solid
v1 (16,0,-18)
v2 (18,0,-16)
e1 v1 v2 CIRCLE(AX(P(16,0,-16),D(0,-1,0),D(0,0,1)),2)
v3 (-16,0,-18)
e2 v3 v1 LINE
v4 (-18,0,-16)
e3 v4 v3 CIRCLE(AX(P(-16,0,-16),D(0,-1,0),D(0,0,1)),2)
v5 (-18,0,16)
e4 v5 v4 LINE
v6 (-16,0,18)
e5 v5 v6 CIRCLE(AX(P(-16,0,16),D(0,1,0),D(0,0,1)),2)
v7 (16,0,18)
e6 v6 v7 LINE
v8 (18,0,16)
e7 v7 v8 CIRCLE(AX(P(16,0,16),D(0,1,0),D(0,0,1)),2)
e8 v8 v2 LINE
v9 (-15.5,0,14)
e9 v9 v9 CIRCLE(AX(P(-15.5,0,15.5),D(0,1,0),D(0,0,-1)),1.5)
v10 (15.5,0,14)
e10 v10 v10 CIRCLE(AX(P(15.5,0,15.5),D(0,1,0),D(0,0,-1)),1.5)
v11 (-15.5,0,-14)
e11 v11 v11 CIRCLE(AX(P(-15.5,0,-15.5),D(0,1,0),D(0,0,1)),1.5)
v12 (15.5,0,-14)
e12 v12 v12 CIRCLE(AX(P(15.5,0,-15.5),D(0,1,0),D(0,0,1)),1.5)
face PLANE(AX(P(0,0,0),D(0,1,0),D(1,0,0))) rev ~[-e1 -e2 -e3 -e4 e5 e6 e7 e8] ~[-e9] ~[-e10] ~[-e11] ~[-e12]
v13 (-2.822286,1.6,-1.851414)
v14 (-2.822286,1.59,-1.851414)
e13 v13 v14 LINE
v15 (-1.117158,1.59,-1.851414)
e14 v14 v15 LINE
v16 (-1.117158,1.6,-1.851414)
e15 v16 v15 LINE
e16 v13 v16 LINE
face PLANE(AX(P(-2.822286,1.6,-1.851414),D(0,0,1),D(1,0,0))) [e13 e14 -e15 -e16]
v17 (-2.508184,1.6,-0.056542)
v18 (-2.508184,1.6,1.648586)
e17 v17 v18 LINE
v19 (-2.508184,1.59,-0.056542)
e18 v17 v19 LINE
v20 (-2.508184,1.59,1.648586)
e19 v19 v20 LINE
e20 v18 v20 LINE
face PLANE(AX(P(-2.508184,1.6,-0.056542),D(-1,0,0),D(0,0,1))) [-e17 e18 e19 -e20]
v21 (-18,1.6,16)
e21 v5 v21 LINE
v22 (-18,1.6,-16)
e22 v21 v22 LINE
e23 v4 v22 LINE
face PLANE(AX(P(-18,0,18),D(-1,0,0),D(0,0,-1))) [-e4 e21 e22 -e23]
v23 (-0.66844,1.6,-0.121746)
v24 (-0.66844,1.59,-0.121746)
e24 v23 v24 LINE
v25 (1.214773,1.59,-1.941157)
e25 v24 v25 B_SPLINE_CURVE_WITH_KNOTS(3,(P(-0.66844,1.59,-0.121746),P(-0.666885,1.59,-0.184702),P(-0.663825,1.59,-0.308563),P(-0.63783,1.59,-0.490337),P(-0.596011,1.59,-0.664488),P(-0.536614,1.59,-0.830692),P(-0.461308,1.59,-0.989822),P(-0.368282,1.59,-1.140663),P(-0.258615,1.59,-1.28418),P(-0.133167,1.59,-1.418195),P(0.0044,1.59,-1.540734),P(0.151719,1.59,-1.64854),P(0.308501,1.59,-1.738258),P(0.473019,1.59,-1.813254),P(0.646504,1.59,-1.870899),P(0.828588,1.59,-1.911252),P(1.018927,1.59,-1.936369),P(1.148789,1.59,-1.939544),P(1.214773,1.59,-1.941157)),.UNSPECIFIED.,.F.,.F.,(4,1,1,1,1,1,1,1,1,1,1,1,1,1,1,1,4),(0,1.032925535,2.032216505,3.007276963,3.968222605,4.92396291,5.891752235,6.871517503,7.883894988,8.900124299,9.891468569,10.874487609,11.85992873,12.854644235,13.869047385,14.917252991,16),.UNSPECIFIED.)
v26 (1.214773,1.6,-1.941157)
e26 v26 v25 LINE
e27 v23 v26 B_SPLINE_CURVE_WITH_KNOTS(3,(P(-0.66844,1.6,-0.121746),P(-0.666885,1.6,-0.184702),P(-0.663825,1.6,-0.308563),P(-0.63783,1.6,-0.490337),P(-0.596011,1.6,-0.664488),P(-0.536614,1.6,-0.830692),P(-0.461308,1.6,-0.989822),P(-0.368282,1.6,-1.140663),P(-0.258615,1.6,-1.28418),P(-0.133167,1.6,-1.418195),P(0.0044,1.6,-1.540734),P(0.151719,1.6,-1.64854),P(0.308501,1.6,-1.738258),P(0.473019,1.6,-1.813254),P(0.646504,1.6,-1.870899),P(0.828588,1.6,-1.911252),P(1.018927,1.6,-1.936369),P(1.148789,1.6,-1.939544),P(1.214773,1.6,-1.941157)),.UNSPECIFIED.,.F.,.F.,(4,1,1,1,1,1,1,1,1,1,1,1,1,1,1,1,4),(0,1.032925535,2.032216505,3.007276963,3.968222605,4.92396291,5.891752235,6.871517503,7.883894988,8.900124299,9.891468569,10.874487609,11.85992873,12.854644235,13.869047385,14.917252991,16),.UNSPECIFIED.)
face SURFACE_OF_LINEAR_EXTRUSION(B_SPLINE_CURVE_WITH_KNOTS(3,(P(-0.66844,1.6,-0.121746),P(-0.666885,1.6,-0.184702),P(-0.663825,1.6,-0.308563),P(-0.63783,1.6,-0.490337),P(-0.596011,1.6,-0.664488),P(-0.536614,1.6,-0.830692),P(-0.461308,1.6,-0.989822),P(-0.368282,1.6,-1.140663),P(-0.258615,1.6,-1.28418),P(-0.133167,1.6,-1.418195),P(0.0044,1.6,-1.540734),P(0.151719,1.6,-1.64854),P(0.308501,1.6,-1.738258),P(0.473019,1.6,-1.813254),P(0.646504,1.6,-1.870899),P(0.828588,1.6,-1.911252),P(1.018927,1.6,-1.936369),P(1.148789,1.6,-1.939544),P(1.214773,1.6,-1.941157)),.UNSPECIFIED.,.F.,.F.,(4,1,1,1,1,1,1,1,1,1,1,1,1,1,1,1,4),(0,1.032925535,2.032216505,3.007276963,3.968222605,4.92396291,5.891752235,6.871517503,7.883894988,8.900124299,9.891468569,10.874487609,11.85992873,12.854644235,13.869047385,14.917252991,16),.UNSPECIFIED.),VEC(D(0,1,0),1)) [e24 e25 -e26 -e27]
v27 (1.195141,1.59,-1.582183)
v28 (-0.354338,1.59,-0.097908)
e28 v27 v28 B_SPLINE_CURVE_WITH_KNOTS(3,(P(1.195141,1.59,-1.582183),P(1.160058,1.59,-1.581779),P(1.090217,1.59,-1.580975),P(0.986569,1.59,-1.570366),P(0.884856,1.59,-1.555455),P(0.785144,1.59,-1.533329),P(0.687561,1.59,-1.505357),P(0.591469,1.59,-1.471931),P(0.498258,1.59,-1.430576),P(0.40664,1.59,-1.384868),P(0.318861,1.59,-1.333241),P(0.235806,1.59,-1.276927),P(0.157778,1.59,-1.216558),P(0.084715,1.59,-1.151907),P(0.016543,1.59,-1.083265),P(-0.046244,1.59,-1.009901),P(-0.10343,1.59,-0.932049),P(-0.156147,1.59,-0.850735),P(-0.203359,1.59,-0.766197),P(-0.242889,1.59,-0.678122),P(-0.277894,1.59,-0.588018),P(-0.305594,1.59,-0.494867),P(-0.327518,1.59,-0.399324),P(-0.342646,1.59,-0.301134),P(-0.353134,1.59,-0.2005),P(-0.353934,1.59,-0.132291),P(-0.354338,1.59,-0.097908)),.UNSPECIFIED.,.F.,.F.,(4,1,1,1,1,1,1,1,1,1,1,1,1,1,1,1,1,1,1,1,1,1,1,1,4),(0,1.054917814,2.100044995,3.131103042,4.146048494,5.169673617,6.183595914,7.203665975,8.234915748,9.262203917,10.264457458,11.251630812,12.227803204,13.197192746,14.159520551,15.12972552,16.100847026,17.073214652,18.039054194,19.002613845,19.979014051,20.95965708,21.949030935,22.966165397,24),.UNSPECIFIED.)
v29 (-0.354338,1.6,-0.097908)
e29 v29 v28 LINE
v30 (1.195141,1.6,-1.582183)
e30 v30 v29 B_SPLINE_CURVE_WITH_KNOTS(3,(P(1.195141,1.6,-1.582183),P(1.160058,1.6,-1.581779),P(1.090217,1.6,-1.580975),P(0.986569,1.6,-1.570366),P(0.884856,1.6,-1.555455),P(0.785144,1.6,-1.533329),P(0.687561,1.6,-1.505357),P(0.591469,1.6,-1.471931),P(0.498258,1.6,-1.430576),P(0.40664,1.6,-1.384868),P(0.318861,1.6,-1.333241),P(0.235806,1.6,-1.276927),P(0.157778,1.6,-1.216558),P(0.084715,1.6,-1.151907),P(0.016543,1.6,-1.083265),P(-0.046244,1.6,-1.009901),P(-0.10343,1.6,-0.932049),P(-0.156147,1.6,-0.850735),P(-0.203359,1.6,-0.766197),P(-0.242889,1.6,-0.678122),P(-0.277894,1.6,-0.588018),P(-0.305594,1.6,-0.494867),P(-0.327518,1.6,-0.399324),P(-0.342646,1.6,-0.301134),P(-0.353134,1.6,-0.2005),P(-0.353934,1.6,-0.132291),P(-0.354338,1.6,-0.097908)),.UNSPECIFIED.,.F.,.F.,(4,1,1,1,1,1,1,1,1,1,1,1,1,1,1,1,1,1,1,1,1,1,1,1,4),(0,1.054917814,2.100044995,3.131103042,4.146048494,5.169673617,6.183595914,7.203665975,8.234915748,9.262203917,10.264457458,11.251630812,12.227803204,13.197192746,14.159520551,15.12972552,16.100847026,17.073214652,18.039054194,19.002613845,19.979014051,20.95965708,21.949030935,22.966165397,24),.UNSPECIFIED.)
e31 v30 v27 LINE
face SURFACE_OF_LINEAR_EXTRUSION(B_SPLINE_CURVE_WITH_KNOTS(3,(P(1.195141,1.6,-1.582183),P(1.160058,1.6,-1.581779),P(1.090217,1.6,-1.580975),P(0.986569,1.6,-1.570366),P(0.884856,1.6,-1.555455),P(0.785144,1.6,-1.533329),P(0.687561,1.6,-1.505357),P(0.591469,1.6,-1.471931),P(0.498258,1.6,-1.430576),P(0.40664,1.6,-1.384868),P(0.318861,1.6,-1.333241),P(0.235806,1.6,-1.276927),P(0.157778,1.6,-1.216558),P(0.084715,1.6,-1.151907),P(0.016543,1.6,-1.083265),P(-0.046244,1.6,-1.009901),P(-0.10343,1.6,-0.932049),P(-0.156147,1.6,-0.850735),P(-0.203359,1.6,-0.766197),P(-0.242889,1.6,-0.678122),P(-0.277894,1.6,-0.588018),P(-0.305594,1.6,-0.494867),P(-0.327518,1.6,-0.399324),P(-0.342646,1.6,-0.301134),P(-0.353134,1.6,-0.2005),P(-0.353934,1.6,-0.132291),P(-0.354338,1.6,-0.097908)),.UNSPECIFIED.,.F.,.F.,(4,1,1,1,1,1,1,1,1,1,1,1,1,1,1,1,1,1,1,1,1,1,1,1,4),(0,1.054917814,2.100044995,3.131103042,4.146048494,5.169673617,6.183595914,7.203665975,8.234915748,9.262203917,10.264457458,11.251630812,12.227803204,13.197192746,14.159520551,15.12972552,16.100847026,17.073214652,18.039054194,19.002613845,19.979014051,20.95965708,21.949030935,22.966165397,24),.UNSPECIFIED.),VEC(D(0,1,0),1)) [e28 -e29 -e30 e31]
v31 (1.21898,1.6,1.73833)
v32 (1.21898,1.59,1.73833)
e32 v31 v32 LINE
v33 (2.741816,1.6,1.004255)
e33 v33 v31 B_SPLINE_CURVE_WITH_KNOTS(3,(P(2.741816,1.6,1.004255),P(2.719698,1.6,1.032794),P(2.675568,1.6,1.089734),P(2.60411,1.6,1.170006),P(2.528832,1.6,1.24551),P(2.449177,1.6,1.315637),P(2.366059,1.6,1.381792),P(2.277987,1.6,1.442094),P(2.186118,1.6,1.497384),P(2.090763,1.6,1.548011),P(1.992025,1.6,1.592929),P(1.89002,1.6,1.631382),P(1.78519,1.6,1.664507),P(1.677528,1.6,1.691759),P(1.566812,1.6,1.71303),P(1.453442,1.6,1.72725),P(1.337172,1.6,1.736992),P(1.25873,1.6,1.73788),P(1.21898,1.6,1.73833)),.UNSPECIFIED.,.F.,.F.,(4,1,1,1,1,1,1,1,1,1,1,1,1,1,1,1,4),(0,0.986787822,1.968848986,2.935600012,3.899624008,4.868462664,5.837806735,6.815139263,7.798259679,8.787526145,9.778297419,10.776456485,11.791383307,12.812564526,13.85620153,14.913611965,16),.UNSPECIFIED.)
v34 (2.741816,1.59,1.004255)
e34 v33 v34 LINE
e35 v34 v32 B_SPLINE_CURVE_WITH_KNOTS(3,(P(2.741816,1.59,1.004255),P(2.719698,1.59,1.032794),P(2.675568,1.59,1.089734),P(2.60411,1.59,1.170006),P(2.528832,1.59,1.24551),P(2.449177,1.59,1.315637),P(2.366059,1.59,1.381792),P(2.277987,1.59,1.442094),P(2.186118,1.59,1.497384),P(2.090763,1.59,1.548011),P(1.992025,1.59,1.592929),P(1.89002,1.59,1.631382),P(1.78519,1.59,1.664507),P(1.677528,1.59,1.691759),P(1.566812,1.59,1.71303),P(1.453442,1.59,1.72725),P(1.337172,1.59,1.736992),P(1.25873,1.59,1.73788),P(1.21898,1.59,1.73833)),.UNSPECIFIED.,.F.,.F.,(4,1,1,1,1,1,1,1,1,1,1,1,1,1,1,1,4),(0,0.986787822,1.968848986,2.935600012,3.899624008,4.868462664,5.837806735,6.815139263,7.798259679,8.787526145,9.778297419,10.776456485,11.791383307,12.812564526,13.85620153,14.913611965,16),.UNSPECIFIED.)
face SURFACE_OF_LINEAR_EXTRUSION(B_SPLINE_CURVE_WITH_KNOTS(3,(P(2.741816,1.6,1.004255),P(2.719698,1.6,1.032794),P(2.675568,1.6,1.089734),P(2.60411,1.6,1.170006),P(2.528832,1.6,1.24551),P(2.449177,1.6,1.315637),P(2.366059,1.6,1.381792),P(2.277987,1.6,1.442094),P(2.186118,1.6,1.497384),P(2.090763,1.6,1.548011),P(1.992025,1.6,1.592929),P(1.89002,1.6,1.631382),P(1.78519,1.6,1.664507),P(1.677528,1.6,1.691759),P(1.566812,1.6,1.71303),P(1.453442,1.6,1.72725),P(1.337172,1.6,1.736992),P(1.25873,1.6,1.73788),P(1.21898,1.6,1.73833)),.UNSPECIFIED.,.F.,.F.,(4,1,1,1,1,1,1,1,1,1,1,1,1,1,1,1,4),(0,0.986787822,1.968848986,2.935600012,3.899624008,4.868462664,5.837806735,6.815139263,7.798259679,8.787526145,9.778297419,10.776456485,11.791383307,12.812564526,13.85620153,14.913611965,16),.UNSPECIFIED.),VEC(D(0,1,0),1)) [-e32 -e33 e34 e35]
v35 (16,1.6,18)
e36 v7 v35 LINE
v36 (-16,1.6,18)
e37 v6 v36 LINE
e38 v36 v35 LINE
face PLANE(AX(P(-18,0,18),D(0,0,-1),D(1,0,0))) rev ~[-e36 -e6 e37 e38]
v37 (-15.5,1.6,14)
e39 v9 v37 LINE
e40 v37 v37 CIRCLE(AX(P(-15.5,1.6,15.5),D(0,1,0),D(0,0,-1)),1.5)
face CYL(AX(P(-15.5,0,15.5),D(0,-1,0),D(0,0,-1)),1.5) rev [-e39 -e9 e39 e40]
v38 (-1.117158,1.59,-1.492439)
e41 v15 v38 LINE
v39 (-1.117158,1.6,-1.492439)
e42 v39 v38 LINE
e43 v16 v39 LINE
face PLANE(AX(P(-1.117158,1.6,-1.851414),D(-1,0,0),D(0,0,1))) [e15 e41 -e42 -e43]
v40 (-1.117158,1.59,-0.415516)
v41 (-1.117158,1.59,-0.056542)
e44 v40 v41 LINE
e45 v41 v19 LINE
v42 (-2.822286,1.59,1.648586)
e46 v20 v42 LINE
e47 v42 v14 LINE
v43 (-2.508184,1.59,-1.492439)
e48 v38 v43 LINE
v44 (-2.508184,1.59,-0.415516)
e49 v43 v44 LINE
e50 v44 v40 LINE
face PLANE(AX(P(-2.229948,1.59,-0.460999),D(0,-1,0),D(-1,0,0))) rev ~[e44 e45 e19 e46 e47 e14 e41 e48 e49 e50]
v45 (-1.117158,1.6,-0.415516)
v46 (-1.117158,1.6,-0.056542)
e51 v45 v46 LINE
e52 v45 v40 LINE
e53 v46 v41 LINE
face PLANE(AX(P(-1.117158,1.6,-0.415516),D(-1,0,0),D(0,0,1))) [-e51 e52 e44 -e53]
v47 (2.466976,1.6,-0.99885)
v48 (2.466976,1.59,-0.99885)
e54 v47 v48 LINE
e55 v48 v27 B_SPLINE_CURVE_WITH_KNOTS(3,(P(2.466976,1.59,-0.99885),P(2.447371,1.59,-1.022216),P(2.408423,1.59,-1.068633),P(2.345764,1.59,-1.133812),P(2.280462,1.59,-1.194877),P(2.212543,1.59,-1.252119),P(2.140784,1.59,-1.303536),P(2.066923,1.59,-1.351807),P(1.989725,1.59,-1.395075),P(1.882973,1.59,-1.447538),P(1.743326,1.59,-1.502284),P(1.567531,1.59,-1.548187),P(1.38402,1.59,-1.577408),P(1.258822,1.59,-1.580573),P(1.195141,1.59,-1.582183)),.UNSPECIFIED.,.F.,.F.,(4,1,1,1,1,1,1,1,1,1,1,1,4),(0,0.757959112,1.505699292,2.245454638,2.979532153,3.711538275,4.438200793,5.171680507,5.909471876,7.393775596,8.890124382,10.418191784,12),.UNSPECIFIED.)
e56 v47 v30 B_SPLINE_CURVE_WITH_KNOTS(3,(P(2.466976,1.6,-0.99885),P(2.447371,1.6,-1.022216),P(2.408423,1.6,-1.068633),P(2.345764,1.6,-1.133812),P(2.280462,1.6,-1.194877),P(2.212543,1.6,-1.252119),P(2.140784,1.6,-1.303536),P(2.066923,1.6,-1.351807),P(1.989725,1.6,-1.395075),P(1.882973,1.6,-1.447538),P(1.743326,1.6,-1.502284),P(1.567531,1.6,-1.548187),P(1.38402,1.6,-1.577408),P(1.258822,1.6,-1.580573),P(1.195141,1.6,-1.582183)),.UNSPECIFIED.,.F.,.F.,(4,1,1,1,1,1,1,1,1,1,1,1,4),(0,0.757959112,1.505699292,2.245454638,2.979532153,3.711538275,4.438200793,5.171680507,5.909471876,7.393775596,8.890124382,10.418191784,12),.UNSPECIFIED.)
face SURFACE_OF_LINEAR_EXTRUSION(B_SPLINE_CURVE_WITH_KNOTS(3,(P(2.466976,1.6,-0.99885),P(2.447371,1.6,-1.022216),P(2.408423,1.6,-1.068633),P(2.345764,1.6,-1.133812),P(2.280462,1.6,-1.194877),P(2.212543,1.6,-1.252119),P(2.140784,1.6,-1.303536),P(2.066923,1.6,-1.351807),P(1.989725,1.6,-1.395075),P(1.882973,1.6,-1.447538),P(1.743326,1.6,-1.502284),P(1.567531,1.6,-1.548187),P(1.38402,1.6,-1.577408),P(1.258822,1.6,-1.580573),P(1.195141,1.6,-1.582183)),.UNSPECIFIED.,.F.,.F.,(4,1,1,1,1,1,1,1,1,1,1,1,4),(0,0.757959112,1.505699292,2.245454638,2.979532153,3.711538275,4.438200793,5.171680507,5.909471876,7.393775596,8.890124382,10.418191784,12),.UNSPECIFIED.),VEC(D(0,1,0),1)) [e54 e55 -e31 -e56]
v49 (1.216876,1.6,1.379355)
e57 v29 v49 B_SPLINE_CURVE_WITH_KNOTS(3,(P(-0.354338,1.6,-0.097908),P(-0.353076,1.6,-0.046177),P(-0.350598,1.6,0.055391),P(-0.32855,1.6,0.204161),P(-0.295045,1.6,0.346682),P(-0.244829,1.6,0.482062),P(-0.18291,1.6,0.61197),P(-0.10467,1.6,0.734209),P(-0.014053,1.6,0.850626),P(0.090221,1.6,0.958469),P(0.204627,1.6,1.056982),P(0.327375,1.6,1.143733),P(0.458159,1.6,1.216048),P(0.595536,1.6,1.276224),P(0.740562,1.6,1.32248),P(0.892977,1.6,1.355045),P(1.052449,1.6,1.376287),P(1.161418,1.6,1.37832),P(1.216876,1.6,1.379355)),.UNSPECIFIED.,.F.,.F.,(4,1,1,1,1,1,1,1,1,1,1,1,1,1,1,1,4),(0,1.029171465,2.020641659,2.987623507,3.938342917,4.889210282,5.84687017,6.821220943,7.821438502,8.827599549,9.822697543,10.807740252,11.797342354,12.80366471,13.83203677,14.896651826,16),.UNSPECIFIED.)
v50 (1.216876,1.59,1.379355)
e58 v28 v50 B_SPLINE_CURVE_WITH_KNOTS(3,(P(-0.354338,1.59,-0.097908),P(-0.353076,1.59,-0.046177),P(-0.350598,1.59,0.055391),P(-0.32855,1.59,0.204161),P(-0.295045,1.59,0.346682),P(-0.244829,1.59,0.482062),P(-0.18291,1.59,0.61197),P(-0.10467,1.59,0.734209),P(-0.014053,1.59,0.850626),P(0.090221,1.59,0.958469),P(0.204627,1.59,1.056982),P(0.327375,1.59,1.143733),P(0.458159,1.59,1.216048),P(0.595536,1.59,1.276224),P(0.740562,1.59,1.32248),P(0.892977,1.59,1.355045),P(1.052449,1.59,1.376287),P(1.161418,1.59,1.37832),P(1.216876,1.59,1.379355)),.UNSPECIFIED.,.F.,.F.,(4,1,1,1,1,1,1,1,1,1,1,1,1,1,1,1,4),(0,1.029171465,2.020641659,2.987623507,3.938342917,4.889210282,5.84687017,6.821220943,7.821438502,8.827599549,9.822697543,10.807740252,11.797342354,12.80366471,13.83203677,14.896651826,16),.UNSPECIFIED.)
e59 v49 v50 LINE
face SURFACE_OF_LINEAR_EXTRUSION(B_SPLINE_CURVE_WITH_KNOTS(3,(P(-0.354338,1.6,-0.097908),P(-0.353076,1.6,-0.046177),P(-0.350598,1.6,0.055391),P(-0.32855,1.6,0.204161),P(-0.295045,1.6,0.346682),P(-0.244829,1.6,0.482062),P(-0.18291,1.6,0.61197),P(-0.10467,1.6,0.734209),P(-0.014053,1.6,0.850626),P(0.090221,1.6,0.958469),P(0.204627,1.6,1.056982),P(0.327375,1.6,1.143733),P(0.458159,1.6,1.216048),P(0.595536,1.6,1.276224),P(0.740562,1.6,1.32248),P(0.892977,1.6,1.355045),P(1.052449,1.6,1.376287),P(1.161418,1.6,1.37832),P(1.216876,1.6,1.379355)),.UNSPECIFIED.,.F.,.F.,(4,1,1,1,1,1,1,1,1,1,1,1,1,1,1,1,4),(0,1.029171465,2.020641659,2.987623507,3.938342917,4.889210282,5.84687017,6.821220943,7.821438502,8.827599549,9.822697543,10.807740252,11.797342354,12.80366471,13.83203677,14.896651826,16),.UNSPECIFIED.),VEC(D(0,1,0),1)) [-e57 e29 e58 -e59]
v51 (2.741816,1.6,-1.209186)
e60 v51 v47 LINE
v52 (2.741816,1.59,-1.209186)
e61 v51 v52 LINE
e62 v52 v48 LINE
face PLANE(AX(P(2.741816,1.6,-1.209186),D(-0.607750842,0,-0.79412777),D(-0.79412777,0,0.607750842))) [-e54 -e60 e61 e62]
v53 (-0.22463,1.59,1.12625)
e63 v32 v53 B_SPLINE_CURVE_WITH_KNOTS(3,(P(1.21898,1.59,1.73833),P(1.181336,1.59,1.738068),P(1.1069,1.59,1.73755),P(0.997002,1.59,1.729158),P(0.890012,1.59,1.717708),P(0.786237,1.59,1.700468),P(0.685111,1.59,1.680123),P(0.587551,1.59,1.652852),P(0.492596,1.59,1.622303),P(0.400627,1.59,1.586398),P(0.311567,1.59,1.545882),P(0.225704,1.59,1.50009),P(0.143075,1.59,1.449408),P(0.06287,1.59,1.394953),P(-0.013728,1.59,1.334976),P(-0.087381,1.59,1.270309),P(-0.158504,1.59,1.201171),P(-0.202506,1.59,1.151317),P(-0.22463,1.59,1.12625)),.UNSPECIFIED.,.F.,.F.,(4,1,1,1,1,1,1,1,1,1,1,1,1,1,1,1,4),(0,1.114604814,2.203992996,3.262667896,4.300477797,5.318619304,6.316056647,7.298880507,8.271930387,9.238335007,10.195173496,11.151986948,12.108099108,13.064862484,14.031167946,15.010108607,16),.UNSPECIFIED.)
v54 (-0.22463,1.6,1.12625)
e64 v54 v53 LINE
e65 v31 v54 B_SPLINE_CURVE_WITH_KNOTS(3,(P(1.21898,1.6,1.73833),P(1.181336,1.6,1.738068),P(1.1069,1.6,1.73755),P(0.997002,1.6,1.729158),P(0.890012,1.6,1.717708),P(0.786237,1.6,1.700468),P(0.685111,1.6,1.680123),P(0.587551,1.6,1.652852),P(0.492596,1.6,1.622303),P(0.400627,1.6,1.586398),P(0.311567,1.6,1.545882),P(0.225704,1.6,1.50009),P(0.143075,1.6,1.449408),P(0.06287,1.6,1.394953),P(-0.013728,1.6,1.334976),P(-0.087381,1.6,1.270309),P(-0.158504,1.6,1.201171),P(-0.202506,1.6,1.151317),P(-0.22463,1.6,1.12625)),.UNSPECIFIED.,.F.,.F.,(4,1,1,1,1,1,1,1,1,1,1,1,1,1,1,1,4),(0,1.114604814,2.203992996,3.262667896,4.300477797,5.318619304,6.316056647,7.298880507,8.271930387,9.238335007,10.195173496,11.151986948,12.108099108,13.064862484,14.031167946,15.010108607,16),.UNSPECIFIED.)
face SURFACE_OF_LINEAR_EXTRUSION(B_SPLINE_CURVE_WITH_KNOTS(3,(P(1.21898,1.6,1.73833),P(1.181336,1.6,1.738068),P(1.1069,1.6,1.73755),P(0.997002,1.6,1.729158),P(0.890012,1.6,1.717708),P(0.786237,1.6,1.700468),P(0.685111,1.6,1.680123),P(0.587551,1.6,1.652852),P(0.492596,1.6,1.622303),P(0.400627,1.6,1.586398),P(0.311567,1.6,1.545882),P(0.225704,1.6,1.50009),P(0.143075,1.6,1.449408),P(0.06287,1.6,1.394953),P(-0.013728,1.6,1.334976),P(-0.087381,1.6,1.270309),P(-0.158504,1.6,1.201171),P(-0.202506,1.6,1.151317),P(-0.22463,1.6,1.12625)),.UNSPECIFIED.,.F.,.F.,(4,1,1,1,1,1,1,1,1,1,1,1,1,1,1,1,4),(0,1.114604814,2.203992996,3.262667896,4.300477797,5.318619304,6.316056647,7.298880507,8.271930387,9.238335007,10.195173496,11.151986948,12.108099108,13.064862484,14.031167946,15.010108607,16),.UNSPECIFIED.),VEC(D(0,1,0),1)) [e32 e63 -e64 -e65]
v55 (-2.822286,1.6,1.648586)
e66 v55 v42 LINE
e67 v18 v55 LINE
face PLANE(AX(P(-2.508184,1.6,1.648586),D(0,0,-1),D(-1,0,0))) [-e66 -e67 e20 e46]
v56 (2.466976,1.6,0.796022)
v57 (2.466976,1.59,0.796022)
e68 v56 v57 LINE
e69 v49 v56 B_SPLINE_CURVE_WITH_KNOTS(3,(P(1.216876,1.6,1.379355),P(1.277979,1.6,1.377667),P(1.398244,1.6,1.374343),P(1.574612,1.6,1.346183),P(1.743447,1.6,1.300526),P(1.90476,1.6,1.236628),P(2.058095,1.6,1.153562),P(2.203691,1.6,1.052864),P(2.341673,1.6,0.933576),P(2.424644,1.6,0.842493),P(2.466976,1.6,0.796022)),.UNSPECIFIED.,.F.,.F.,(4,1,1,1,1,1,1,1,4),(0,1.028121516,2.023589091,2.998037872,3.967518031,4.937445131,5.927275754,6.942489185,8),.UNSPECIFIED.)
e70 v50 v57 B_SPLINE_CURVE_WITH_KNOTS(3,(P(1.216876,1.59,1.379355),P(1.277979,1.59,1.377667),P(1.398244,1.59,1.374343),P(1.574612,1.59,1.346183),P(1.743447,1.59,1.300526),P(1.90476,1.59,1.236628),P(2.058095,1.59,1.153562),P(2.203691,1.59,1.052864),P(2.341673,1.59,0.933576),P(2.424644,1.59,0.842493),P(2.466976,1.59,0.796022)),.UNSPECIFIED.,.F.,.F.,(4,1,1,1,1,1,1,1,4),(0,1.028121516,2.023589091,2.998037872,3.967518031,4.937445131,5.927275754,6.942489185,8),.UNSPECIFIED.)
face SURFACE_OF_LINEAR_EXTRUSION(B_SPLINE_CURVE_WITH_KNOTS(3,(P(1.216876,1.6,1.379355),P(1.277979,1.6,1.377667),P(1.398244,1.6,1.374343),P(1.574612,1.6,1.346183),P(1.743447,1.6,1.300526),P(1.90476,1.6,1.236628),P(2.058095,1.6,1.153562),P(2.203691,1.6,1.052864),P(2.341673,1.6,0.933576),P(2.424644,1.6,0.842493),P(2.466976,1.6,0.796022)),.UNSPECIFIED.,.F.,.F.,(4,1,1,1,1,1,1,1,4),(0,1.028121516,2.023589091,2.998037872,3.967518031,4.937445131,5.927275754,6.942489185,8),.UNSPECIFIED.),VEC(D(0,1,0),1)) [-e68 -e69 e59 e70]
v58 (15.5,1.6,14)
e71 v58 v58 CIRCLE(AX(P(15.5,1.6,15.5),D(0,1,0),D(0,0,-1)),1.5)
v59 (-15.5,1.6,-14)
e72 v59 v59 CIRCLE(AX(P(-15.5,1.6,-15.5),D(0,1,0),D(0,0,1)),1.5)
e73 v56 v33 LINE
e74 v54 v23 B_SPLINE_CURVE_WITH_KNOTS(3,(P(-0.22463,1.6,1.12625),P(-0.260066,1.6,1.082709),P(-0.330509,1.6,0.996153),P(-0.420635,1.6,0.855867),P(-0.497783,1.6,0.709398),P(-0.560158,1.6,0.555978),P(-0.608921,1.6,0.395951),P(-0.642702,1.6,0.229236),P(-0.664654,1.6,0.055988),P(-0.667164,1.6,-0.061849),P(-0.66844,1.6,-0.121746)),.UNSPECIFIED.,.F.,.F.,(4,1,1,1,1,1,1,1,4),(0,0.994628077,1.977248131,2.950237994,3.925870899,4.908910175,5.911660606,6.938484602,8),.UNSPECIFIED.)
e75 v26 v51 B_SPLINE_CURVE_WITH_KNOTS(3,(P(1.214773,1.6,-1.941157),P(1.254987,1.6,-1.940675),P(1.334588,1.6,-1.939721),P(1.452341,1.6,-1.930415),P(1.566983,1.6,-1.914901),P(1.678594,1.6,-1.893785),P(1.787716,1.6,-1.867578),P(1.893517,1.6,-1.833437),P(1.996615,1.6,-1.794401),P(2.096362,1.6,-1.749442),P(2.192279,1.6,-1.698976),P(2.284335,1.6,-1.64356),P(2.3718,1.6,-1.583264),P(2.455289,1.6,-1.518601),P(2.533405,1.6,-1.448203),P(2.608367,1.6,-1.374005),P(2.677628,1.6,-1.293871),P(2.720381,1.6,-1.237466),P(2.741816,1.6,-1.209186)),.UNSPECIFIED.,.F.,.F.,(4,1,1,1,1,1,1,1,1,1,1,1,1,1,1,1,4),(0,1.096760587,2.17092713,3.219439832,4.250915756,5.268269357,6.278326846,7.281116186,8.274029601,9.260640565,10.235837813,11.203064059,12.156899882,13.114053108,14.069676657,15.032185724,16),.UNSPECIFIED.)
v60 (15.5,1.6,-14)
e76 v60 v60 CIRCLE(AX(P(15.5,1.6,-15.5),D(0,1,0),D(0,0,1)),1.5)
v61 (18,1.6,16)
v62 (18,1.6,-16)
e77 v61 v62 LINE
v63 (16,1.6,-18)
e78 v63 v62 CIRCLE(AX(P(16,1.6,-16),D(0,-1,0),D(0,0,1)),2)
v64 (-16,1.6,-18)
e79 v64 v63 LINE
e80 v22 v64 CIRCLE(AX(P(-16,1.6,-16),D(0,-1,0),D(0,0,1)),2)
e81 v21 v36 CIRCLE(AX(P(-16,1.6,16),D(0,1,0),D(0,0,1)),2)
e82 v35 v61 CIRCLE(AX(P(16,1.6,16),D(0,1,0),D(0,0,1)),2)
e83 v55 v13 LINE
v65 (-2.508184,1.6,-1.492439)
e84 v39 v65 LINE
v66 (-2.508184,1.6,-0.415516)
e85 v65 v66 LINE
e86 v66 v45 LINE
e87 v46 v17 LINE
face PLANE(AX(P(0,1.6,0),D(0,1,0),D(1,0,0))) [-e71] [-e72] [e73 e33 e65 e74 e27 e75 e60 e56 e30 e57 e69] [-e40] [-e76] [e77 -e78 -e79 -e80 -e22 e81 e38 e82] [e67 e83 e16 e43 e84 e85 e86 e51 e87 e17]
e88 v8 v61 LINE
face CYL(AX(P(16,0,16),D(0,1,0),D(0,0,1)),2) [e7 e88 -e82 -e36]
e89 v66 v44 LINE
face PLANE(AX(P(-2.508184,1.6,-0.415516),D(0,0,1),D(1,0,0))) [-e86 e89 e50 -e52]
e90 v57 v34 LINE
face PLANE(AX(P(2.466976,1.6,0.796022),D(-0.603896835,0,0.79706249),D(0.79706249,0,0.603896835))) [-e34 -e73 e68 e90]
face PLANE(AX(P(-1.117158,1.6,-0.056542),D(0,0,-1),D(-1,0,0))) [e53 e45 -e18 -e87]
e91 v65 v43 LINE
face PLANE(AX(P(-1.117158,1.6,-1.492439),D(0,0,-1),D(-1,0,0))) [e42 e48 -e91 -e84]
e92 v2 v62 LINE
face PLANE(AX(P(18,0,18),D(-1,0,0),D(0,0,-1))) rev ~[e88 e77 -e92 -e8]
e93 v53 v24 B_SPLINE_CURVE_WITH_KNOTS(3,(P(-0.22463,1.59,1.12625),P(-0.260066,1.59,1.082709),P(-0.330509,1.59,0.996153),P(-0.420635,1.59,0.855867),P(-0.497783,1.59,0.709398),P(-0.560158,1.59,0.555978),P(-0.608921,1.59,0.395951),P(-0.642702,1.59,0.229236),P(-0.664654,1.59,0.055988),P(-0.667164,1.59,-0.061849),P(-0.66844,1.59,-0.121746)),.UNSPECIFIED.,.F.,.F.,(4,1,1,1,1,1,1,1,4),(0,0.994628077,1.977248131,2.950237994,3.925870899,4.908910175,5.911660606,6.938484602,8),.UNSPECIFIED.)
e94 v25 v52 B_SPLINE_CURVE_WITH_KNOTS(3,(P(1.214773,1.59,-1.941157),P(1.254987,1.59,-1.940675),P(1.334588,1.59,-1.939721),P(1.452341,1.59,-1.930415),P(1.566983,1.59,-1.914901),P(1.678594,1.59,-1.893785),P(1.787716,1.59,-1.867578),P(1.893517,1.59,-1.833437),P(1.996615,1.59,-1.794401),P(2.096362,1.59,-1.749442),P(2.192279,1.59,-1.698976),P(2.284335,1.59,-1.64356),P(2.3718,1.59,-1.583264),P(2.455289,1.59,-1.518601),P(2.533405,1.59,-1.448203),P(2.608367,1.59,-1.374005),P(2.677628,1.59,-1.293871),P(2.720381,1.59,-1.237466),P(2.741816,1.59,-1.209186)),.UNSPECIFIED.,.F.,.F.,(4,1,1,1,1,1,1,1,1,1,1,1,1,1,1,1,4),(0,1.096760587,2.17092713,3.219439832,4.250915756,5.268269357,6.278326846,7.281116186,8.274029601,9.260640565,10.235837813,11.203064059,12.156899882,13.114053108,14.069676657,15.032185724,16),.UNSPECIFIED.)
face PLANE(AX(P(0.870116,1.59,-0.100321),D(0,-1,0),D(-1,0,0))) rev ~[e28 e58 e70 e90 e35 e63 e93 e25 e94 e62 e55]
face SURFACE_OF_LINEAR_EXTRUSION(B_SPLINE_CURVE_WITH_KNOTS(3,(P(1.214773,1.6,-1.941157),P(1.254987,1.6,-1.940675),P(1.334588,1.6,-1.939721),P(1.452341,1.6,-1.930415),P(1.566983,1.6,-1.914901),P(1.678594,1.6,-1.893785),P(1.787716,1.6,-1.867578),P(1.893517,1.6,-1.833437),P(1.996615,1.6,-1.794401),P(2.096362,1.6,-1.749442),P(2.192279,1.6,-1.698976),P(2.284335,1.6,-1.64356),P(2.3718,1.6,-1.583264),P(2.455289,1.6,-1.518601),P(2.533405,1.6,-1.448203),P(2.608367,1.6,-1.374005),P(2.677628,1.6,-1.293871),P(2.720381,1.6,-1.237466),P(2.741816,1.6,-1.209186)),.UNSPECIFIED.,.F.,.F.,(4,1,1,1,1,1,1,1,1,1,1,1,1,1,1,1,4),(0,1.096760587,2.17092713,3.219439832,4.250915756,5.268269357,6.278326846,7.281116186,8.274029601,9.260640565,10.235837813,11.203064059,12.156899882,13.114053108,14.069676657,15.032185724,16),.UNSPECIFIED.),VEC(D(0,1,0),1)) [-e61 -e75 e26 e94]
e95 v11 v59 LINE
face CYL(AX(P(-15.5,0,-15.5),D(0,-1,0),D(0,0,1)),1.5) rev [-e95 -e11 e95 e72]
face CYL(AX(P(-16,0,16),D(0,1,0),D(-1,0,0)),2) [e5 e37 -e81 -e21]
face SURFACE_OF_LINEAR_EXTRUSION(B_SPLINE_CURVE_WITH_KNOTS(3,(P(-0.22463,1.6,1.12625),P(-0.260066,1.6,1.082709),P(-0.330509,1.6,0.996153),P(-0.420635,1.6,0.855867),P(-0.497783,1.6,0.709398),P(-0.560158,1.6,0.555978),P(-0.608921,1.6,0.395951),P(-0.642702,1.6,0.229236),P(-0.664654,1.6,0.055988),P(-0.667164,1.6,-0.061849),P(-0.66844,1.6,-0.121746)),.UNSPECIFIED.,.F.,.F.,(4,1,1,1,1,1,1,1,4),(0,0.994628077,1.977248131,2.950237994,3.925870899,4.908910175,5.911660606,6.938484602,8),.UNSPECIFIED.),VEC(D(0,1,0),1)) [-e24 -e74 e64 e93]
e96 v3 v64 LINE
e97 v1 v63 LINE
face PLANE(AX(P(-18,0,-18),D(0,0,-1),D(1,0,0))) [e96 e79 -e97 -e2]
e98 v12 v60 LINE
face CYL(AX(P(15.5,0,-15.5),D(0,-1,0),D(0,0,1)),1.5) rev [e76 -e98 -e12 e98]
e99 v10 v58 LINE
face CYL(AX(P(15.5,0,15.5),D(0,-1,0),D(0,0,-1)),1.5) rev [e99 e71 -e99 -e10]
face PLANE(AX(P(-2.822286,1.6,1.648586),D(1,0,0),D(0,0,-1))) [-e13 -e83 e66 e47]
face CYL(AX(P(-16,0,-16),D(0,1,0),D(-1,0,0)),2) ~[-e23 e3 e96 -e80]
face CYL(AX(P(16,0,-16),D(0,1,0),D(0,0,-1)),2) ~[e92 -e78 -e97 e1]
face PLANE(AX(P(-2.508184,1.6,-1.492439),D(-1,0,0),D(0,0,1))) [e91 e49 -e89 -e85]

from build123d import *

# Parameters (mm, degrees)
SKETCH1_W           = 36
SKETCH1_H           = 36
SKETCH1_R           = 1.5
BOSS_EXTRUDE1_DEPTH = 1.6
FILLET1_R           = 2
CUT_EXTRUDE1_DEPTH  = 0.01


with BuildPart() as part:
    # Sketch1 → Boss-Extrude1 (new body)
    with BuildSketch(Plane(origin=(0, 0, 0), x_dir=(1, 0, 0), z_dir=(0, 1, 0))):
        Rectangle(SKETCH1_W, SKETCH1_H)
        with Locations(Location((-15.5, 15.5, 0), (0, 0, 270))):
            Circle(SKETCH1_R, mode=Mode.SUBTRACT)
        with Locations(Location((15.5, 15.5, 0), (0, 0, 270))):
            Circle(SKETCH1_R, mode=Mode.SUBTRACT)
        with Locations(Location((-15.5, -15.5, 0), (0, 0, 90))):
            Circle(SKETCH1_R, mode=Mode.SUBTRACT)
        with Locations(Location((15.5, -15.5, 0), (0, 0, 90))):
            Circle(SKETCH1_R, mode=Mode.SUBTRACT)
    extrude(amount=BOSS_EXTRUDE1_DEPTH)

    # Fillet1
    fillet1_edges = [part.edges().sort_by_distance(p)[0] for p in [
        (18, 0.8, 18),
        (-18, 0.8, 18),
        (-18, 0.8, -18),
        (18, 0.8, -18),
    ]]
    fillet(fillet1_edges, radius=FILLET1_R)

    # Sketch2 → Cut-Extrude1 (cut)
    with BuildSketch(Plane(origin=(0, 1.6, 0), x_dir=(1, 0, 0), z_dir=(0, 1, 0))):
        Polygon((-2.822286409, 1.851413804), (-1.117158204, 1.851413804), (-1.117158204, 1.492439445), (-2.508183845, 1.492439445), (-2.508183845, 0.415516368), (-1.117158204, 0.415516368), (-1.117158204, 0.056542009), (-2.508183845, 0.056542009), (-2.508183845, -1.648586196), (-2.822286409, -1.648586196), align=None)
        with BuildLine():
            Line((2.741816155, 1.209186239), (2.466976411, 0.998849701))
            add(Edge.make_bspline(
                [(2.466976411, 0.998849701), (2.447370523, 1.022215671), (2.408423076, 1.068632587), (2.345763874, 1.133812131), (2.280462231, 1.194877392), (2.212543109, 1.252119272), (2.14078399, 1.303536038), (2.066923191, 1.351807141), (1.989725146, 1.395074879), (1.882973411, 1.447537865), (1.743325563, 1.50228402), (1.567530724, 1.548187251), (1.384019626, 1.577408427), (1.258822026, 1.580573268), (1.195141475, 1.582183034)],
                knots=[0, 0, 0, 0, 0.757959112, 1.505699292, 2.245454638, 2.979532153, 3.711538275, 4.438200793, 5.171680507, 5.909471876, 7.393775596, 8.890124382, 10.418191784, 12, 12, 12, 12], degree=3))
            add(Edge.make_bspline(
                [(1.195141475, 1.582183034), (1.160058176, 1.581779072), (1.090217183, 1.580974896), (0.98656871, 1.570365771), (0.884855659, 1.555454561), (0.785144193, 1.533329238), (0.687561234, 1.505356618), (0.591468832, 1.471931205), (0.498258232, 1.430576365), (0.406639994, 1.384868105), (0.318860783, 1.33324066), (0.235805735, 1.276927308), (0.157777767, 1.216558212), (0.084715155, 1.151907105), (0.016543207, 1.083265145), (-0.046244104, 1.009900803), (-0.103429514, 0.93204863), (-0.156146539, 0.850735222), (-0.203359273, 0.76619743), (-0.242889152, 0.67812236), (-0.277894274, 0.588018257), (-0.305593517, 0.494867096), (-0.327518034, 0.39932433), (-0.342645697, 0.301133542), (-0.353134168, 0.200499863), (-0.353934345, 0.13229055), (-0.354337691, 0.097908195)],
                knots=[0, 0, 0, 0, 1.054917814, 2.100044995, 3.131103042, 4.146048494, 5.169673617, 6.183595914, 7.203665975, 8.234915748, 9.262203917, 10.264457458, 11.251630812, 12.227803204, 13.197192746, 14.159520551, 15.12972552, 16.100847026, 17.073214652, 18.039054194, 19.002613845, 19.979014051, 20.95965708, 21.949030935, 22.966165397, 24, 24, 24, 24], degree=3))
            add(Edge.make_bspline(
                [(-0.354337691, 0.097908195), (-0.353075872, 0.046176875), (-0.350598458, -0.05539071), (-0.328550124, -0.204161321), (-0.295045033, -0.346681994), (-0.244829456, -0.482061837), (-0.182910405, -0.611970195), (-0.104669794, -0.734209048), (-0.014053256, -0.850625613), (0.090221163, -0.958468561), (0.204626979, -1.056982286), (0.327374891, -1.143732867), (0.458159179, -1.21604775), (0.595535809, -1.276223696), (0.740561923, -1.322480424), (0.892976725, -1.355044547), (1.05244872, -1.376286728), (1.16141812, -1.378320416), (1.216876251, -1.379355427)],
                knots=[0, 0, 0, 0, 1.029171465, 2.020641659, 2.987623507, 3.938342917, 4.889210282, 5.84687017, 6.821220943, 7.821438502, 8.827599549, 9.822697543, 10.807740252, 11.797342354, 12.80366471, 13.83203677, 14.896651826, 16, 16, 16, 16], degree=3))
            add(Edge.make_bspline(
                [(1.216876251, -1.379355427), (1.27797894, -1.377666647), (1.398243649, -1.374342725), (1.574611675, -1.346183476), (1.743447441, -1.300525558), (1.904760027, -1.236627636), (2.058094674, -1.153562348), (2.203691334, -1.05286447), (2.341672904, -0.933576138), (2.424644187, -0.842493009), (2.466976411, -0.796022094)],
                knots=[0, 0, 0, 0, 1.028121516, 2.023589091, 2.998037872, 3.967518031, 4.937445131, 5.927275754, 6.942489185, 8, 8, 8, 8], degree=3))
            Line((2.466976411, -0.796022094), (2.741816155, -1.004255267))
            add(Edge.make_bspline(
                [(2.741816155, -1.004255267), (2.719698045, -1.032793719), (2.67556777, -1.089733925), (2.604109753, -1.170005635), (2.528832455, -1.24550967), (2.449176745, -1.315637292), (2.366058954, -1.381791757), (2.277986641, -1.442093588), (2.186117609, -1.497384473), (2.09076313, -1.548011397), (1.992024517, -1.592928644), (1.890020082, -1.631382412), (1.785189507, -1.664507302), (1.677527998, -1.691759238), (1.566812241, -1.713030322), (1.453441767, -1.727249997), (1.337171892, -1.736991911), (1.258730471, -1.737879827), (1.218979616, -1.738329786)],
                knots=[0, 0, 0, 0, 0.986787822, 1.968848986, 2.935600012, 3.899624008, 4.868462664, 5.837806735, 6.815139263, 7.798259679, 8.787526145, 9.778297419, 10.776456485, 11.791383307, 12.812564526, 13.85620153, 14.913611965, 16, 16, 16, 16], degree=3))
            add(Edge.make_bspline(
                [(1.218979616, -1.738329786), (1.181335949, -1.738067794), (1.106900259, -1.737549736), (0.997001508, -1.729157568), (0.890011927, -1.717707831), (0.786237301, -1.7004677), (0.685111326, -1.68012336), (0.587550741, -1.652852104), (0.492595531, -1.622302937), (0.40062719, -1.58639795), (0.311567491, -1.545881768), (0.225703679, -1.500090209), (0.143075247, -1.449408344), (0.062869826, -1.394953334), (-0.013727758, -1.334976032), (-0.087381283, -1.270309397), (-0.158503759, -1.201171387), (-0.202506444, -1.151316533), (-0.224630159, -1.126250459)],
                knots=[0, 0, 0, 0, 1.114604814, 2.203992996, 3.262667896, 4.300477797, 5.318619304, 6.316056647, 7.298880507, 8.271930387, 9.238335007, 10.195173496, 11.151986948, 12.108099108, 13.064862484, 14.031167946, 15.010108607, 16, 16, 16, 16], degree=3))
            add(Edge.make_bspline(
                [(-0.224630159, -1.126250459), (-0.260065803, -1.08270927), (-0.33050928, -0.99615256), (-0.420634963, -0.855866579), (-0.497782518, -0.70939837), (-0.560158439, -0.555978441), (-0.608921172, -0.395951054), (-0.642702367, -0.229235539), (-0.664653972, -0.055987597), (-0.667164261, 0.061849192), (-0.668440255, 0.121746336)],
                knots=[0, 0, 0, 0, 0.994628077, 1.977248131, 2.950237994, 3.925870899, 4.908910175, 5.911660606, 6.938484602, 8, 8, 8, 8], degree=3))
            add(Edge.make_bspline(
                [(-0.668440255, 0.121746336), (-0.666885062, 0.184701789), (-0.663825316, 0.308562714), (-0.63782952, 0.490336667), (-0.596010724, 0.664488066), (-0.536613835, 0.83069181), (-0.461308484, 0.989822091), (-0.36828187, 1.140663296), (-0.258614728, 1.284180095), (-0.13316716, 1.418194847), (0.004400175, 1.540734199), (0.151718989, 1.648540403), (0.308500936, 1.738257919), (0.473018788, 1.813254081), (0.646504469, 1.870898544), (0.828587838, 1.911251731), (1.018926753, 1.936368847), (1.148789179, 1.939544055), (1.214772886, 1.941157393)],
                knots=[0, 0, 0, 0, 1.032925535, 2.032216505, 3.007276963, 3.968222605, 4.92396291, 5.891752235, 6.871517503, 7.883894988, 8.900124299, 9.891468569, 10.874487609, 11.85992873, 12.854644235, 13.869047385, 14.917252991, 16, 16, 16, 16], degree=3))
            add(Edge.make_bspline(
                [(1.214772886, 1.941157393), (1.254987358, 1.940675255), (1.334587855, 1.939720911), (1.452340507, 1.930414769), (1.566982834, 1.914901163), (1.678593816, 1.893785093), (1.787716432, 1.867577772), (1.893516673, 1.833437473), (1.99661536, 1.794400942), (2.096362268, 1.749442476), (2.192278819, 1.698975735), (2.284335137, 1.643560111), (2.371799996, 1.583264305), (2.455288844, 1.51860113), (2.533405055, 1.448202571), (2.608366534, 1.374004975), (2.677627612, 1.293871151), (2.720380807, 1.237466217), (2.741816155, 1.209186239)],
                knots=[0, 0, 0, 0, 1.096760587, 2.17092713, 3.219439832, 4.250915756, 5.268269357, 6.278326846, 7.281116186, 8.274029601, 9.260640565, 10.235837813, 11.203064059, 12.156899882, 13.114053108, 14.069676657, 15.032185724, 16, 16, 16, 16], degree=3))
        make_face()
    extrude(amount=-CUT_EXTRUDE1_DEPTH, mode=Mode.SUBTRACT)


solid = part.part
